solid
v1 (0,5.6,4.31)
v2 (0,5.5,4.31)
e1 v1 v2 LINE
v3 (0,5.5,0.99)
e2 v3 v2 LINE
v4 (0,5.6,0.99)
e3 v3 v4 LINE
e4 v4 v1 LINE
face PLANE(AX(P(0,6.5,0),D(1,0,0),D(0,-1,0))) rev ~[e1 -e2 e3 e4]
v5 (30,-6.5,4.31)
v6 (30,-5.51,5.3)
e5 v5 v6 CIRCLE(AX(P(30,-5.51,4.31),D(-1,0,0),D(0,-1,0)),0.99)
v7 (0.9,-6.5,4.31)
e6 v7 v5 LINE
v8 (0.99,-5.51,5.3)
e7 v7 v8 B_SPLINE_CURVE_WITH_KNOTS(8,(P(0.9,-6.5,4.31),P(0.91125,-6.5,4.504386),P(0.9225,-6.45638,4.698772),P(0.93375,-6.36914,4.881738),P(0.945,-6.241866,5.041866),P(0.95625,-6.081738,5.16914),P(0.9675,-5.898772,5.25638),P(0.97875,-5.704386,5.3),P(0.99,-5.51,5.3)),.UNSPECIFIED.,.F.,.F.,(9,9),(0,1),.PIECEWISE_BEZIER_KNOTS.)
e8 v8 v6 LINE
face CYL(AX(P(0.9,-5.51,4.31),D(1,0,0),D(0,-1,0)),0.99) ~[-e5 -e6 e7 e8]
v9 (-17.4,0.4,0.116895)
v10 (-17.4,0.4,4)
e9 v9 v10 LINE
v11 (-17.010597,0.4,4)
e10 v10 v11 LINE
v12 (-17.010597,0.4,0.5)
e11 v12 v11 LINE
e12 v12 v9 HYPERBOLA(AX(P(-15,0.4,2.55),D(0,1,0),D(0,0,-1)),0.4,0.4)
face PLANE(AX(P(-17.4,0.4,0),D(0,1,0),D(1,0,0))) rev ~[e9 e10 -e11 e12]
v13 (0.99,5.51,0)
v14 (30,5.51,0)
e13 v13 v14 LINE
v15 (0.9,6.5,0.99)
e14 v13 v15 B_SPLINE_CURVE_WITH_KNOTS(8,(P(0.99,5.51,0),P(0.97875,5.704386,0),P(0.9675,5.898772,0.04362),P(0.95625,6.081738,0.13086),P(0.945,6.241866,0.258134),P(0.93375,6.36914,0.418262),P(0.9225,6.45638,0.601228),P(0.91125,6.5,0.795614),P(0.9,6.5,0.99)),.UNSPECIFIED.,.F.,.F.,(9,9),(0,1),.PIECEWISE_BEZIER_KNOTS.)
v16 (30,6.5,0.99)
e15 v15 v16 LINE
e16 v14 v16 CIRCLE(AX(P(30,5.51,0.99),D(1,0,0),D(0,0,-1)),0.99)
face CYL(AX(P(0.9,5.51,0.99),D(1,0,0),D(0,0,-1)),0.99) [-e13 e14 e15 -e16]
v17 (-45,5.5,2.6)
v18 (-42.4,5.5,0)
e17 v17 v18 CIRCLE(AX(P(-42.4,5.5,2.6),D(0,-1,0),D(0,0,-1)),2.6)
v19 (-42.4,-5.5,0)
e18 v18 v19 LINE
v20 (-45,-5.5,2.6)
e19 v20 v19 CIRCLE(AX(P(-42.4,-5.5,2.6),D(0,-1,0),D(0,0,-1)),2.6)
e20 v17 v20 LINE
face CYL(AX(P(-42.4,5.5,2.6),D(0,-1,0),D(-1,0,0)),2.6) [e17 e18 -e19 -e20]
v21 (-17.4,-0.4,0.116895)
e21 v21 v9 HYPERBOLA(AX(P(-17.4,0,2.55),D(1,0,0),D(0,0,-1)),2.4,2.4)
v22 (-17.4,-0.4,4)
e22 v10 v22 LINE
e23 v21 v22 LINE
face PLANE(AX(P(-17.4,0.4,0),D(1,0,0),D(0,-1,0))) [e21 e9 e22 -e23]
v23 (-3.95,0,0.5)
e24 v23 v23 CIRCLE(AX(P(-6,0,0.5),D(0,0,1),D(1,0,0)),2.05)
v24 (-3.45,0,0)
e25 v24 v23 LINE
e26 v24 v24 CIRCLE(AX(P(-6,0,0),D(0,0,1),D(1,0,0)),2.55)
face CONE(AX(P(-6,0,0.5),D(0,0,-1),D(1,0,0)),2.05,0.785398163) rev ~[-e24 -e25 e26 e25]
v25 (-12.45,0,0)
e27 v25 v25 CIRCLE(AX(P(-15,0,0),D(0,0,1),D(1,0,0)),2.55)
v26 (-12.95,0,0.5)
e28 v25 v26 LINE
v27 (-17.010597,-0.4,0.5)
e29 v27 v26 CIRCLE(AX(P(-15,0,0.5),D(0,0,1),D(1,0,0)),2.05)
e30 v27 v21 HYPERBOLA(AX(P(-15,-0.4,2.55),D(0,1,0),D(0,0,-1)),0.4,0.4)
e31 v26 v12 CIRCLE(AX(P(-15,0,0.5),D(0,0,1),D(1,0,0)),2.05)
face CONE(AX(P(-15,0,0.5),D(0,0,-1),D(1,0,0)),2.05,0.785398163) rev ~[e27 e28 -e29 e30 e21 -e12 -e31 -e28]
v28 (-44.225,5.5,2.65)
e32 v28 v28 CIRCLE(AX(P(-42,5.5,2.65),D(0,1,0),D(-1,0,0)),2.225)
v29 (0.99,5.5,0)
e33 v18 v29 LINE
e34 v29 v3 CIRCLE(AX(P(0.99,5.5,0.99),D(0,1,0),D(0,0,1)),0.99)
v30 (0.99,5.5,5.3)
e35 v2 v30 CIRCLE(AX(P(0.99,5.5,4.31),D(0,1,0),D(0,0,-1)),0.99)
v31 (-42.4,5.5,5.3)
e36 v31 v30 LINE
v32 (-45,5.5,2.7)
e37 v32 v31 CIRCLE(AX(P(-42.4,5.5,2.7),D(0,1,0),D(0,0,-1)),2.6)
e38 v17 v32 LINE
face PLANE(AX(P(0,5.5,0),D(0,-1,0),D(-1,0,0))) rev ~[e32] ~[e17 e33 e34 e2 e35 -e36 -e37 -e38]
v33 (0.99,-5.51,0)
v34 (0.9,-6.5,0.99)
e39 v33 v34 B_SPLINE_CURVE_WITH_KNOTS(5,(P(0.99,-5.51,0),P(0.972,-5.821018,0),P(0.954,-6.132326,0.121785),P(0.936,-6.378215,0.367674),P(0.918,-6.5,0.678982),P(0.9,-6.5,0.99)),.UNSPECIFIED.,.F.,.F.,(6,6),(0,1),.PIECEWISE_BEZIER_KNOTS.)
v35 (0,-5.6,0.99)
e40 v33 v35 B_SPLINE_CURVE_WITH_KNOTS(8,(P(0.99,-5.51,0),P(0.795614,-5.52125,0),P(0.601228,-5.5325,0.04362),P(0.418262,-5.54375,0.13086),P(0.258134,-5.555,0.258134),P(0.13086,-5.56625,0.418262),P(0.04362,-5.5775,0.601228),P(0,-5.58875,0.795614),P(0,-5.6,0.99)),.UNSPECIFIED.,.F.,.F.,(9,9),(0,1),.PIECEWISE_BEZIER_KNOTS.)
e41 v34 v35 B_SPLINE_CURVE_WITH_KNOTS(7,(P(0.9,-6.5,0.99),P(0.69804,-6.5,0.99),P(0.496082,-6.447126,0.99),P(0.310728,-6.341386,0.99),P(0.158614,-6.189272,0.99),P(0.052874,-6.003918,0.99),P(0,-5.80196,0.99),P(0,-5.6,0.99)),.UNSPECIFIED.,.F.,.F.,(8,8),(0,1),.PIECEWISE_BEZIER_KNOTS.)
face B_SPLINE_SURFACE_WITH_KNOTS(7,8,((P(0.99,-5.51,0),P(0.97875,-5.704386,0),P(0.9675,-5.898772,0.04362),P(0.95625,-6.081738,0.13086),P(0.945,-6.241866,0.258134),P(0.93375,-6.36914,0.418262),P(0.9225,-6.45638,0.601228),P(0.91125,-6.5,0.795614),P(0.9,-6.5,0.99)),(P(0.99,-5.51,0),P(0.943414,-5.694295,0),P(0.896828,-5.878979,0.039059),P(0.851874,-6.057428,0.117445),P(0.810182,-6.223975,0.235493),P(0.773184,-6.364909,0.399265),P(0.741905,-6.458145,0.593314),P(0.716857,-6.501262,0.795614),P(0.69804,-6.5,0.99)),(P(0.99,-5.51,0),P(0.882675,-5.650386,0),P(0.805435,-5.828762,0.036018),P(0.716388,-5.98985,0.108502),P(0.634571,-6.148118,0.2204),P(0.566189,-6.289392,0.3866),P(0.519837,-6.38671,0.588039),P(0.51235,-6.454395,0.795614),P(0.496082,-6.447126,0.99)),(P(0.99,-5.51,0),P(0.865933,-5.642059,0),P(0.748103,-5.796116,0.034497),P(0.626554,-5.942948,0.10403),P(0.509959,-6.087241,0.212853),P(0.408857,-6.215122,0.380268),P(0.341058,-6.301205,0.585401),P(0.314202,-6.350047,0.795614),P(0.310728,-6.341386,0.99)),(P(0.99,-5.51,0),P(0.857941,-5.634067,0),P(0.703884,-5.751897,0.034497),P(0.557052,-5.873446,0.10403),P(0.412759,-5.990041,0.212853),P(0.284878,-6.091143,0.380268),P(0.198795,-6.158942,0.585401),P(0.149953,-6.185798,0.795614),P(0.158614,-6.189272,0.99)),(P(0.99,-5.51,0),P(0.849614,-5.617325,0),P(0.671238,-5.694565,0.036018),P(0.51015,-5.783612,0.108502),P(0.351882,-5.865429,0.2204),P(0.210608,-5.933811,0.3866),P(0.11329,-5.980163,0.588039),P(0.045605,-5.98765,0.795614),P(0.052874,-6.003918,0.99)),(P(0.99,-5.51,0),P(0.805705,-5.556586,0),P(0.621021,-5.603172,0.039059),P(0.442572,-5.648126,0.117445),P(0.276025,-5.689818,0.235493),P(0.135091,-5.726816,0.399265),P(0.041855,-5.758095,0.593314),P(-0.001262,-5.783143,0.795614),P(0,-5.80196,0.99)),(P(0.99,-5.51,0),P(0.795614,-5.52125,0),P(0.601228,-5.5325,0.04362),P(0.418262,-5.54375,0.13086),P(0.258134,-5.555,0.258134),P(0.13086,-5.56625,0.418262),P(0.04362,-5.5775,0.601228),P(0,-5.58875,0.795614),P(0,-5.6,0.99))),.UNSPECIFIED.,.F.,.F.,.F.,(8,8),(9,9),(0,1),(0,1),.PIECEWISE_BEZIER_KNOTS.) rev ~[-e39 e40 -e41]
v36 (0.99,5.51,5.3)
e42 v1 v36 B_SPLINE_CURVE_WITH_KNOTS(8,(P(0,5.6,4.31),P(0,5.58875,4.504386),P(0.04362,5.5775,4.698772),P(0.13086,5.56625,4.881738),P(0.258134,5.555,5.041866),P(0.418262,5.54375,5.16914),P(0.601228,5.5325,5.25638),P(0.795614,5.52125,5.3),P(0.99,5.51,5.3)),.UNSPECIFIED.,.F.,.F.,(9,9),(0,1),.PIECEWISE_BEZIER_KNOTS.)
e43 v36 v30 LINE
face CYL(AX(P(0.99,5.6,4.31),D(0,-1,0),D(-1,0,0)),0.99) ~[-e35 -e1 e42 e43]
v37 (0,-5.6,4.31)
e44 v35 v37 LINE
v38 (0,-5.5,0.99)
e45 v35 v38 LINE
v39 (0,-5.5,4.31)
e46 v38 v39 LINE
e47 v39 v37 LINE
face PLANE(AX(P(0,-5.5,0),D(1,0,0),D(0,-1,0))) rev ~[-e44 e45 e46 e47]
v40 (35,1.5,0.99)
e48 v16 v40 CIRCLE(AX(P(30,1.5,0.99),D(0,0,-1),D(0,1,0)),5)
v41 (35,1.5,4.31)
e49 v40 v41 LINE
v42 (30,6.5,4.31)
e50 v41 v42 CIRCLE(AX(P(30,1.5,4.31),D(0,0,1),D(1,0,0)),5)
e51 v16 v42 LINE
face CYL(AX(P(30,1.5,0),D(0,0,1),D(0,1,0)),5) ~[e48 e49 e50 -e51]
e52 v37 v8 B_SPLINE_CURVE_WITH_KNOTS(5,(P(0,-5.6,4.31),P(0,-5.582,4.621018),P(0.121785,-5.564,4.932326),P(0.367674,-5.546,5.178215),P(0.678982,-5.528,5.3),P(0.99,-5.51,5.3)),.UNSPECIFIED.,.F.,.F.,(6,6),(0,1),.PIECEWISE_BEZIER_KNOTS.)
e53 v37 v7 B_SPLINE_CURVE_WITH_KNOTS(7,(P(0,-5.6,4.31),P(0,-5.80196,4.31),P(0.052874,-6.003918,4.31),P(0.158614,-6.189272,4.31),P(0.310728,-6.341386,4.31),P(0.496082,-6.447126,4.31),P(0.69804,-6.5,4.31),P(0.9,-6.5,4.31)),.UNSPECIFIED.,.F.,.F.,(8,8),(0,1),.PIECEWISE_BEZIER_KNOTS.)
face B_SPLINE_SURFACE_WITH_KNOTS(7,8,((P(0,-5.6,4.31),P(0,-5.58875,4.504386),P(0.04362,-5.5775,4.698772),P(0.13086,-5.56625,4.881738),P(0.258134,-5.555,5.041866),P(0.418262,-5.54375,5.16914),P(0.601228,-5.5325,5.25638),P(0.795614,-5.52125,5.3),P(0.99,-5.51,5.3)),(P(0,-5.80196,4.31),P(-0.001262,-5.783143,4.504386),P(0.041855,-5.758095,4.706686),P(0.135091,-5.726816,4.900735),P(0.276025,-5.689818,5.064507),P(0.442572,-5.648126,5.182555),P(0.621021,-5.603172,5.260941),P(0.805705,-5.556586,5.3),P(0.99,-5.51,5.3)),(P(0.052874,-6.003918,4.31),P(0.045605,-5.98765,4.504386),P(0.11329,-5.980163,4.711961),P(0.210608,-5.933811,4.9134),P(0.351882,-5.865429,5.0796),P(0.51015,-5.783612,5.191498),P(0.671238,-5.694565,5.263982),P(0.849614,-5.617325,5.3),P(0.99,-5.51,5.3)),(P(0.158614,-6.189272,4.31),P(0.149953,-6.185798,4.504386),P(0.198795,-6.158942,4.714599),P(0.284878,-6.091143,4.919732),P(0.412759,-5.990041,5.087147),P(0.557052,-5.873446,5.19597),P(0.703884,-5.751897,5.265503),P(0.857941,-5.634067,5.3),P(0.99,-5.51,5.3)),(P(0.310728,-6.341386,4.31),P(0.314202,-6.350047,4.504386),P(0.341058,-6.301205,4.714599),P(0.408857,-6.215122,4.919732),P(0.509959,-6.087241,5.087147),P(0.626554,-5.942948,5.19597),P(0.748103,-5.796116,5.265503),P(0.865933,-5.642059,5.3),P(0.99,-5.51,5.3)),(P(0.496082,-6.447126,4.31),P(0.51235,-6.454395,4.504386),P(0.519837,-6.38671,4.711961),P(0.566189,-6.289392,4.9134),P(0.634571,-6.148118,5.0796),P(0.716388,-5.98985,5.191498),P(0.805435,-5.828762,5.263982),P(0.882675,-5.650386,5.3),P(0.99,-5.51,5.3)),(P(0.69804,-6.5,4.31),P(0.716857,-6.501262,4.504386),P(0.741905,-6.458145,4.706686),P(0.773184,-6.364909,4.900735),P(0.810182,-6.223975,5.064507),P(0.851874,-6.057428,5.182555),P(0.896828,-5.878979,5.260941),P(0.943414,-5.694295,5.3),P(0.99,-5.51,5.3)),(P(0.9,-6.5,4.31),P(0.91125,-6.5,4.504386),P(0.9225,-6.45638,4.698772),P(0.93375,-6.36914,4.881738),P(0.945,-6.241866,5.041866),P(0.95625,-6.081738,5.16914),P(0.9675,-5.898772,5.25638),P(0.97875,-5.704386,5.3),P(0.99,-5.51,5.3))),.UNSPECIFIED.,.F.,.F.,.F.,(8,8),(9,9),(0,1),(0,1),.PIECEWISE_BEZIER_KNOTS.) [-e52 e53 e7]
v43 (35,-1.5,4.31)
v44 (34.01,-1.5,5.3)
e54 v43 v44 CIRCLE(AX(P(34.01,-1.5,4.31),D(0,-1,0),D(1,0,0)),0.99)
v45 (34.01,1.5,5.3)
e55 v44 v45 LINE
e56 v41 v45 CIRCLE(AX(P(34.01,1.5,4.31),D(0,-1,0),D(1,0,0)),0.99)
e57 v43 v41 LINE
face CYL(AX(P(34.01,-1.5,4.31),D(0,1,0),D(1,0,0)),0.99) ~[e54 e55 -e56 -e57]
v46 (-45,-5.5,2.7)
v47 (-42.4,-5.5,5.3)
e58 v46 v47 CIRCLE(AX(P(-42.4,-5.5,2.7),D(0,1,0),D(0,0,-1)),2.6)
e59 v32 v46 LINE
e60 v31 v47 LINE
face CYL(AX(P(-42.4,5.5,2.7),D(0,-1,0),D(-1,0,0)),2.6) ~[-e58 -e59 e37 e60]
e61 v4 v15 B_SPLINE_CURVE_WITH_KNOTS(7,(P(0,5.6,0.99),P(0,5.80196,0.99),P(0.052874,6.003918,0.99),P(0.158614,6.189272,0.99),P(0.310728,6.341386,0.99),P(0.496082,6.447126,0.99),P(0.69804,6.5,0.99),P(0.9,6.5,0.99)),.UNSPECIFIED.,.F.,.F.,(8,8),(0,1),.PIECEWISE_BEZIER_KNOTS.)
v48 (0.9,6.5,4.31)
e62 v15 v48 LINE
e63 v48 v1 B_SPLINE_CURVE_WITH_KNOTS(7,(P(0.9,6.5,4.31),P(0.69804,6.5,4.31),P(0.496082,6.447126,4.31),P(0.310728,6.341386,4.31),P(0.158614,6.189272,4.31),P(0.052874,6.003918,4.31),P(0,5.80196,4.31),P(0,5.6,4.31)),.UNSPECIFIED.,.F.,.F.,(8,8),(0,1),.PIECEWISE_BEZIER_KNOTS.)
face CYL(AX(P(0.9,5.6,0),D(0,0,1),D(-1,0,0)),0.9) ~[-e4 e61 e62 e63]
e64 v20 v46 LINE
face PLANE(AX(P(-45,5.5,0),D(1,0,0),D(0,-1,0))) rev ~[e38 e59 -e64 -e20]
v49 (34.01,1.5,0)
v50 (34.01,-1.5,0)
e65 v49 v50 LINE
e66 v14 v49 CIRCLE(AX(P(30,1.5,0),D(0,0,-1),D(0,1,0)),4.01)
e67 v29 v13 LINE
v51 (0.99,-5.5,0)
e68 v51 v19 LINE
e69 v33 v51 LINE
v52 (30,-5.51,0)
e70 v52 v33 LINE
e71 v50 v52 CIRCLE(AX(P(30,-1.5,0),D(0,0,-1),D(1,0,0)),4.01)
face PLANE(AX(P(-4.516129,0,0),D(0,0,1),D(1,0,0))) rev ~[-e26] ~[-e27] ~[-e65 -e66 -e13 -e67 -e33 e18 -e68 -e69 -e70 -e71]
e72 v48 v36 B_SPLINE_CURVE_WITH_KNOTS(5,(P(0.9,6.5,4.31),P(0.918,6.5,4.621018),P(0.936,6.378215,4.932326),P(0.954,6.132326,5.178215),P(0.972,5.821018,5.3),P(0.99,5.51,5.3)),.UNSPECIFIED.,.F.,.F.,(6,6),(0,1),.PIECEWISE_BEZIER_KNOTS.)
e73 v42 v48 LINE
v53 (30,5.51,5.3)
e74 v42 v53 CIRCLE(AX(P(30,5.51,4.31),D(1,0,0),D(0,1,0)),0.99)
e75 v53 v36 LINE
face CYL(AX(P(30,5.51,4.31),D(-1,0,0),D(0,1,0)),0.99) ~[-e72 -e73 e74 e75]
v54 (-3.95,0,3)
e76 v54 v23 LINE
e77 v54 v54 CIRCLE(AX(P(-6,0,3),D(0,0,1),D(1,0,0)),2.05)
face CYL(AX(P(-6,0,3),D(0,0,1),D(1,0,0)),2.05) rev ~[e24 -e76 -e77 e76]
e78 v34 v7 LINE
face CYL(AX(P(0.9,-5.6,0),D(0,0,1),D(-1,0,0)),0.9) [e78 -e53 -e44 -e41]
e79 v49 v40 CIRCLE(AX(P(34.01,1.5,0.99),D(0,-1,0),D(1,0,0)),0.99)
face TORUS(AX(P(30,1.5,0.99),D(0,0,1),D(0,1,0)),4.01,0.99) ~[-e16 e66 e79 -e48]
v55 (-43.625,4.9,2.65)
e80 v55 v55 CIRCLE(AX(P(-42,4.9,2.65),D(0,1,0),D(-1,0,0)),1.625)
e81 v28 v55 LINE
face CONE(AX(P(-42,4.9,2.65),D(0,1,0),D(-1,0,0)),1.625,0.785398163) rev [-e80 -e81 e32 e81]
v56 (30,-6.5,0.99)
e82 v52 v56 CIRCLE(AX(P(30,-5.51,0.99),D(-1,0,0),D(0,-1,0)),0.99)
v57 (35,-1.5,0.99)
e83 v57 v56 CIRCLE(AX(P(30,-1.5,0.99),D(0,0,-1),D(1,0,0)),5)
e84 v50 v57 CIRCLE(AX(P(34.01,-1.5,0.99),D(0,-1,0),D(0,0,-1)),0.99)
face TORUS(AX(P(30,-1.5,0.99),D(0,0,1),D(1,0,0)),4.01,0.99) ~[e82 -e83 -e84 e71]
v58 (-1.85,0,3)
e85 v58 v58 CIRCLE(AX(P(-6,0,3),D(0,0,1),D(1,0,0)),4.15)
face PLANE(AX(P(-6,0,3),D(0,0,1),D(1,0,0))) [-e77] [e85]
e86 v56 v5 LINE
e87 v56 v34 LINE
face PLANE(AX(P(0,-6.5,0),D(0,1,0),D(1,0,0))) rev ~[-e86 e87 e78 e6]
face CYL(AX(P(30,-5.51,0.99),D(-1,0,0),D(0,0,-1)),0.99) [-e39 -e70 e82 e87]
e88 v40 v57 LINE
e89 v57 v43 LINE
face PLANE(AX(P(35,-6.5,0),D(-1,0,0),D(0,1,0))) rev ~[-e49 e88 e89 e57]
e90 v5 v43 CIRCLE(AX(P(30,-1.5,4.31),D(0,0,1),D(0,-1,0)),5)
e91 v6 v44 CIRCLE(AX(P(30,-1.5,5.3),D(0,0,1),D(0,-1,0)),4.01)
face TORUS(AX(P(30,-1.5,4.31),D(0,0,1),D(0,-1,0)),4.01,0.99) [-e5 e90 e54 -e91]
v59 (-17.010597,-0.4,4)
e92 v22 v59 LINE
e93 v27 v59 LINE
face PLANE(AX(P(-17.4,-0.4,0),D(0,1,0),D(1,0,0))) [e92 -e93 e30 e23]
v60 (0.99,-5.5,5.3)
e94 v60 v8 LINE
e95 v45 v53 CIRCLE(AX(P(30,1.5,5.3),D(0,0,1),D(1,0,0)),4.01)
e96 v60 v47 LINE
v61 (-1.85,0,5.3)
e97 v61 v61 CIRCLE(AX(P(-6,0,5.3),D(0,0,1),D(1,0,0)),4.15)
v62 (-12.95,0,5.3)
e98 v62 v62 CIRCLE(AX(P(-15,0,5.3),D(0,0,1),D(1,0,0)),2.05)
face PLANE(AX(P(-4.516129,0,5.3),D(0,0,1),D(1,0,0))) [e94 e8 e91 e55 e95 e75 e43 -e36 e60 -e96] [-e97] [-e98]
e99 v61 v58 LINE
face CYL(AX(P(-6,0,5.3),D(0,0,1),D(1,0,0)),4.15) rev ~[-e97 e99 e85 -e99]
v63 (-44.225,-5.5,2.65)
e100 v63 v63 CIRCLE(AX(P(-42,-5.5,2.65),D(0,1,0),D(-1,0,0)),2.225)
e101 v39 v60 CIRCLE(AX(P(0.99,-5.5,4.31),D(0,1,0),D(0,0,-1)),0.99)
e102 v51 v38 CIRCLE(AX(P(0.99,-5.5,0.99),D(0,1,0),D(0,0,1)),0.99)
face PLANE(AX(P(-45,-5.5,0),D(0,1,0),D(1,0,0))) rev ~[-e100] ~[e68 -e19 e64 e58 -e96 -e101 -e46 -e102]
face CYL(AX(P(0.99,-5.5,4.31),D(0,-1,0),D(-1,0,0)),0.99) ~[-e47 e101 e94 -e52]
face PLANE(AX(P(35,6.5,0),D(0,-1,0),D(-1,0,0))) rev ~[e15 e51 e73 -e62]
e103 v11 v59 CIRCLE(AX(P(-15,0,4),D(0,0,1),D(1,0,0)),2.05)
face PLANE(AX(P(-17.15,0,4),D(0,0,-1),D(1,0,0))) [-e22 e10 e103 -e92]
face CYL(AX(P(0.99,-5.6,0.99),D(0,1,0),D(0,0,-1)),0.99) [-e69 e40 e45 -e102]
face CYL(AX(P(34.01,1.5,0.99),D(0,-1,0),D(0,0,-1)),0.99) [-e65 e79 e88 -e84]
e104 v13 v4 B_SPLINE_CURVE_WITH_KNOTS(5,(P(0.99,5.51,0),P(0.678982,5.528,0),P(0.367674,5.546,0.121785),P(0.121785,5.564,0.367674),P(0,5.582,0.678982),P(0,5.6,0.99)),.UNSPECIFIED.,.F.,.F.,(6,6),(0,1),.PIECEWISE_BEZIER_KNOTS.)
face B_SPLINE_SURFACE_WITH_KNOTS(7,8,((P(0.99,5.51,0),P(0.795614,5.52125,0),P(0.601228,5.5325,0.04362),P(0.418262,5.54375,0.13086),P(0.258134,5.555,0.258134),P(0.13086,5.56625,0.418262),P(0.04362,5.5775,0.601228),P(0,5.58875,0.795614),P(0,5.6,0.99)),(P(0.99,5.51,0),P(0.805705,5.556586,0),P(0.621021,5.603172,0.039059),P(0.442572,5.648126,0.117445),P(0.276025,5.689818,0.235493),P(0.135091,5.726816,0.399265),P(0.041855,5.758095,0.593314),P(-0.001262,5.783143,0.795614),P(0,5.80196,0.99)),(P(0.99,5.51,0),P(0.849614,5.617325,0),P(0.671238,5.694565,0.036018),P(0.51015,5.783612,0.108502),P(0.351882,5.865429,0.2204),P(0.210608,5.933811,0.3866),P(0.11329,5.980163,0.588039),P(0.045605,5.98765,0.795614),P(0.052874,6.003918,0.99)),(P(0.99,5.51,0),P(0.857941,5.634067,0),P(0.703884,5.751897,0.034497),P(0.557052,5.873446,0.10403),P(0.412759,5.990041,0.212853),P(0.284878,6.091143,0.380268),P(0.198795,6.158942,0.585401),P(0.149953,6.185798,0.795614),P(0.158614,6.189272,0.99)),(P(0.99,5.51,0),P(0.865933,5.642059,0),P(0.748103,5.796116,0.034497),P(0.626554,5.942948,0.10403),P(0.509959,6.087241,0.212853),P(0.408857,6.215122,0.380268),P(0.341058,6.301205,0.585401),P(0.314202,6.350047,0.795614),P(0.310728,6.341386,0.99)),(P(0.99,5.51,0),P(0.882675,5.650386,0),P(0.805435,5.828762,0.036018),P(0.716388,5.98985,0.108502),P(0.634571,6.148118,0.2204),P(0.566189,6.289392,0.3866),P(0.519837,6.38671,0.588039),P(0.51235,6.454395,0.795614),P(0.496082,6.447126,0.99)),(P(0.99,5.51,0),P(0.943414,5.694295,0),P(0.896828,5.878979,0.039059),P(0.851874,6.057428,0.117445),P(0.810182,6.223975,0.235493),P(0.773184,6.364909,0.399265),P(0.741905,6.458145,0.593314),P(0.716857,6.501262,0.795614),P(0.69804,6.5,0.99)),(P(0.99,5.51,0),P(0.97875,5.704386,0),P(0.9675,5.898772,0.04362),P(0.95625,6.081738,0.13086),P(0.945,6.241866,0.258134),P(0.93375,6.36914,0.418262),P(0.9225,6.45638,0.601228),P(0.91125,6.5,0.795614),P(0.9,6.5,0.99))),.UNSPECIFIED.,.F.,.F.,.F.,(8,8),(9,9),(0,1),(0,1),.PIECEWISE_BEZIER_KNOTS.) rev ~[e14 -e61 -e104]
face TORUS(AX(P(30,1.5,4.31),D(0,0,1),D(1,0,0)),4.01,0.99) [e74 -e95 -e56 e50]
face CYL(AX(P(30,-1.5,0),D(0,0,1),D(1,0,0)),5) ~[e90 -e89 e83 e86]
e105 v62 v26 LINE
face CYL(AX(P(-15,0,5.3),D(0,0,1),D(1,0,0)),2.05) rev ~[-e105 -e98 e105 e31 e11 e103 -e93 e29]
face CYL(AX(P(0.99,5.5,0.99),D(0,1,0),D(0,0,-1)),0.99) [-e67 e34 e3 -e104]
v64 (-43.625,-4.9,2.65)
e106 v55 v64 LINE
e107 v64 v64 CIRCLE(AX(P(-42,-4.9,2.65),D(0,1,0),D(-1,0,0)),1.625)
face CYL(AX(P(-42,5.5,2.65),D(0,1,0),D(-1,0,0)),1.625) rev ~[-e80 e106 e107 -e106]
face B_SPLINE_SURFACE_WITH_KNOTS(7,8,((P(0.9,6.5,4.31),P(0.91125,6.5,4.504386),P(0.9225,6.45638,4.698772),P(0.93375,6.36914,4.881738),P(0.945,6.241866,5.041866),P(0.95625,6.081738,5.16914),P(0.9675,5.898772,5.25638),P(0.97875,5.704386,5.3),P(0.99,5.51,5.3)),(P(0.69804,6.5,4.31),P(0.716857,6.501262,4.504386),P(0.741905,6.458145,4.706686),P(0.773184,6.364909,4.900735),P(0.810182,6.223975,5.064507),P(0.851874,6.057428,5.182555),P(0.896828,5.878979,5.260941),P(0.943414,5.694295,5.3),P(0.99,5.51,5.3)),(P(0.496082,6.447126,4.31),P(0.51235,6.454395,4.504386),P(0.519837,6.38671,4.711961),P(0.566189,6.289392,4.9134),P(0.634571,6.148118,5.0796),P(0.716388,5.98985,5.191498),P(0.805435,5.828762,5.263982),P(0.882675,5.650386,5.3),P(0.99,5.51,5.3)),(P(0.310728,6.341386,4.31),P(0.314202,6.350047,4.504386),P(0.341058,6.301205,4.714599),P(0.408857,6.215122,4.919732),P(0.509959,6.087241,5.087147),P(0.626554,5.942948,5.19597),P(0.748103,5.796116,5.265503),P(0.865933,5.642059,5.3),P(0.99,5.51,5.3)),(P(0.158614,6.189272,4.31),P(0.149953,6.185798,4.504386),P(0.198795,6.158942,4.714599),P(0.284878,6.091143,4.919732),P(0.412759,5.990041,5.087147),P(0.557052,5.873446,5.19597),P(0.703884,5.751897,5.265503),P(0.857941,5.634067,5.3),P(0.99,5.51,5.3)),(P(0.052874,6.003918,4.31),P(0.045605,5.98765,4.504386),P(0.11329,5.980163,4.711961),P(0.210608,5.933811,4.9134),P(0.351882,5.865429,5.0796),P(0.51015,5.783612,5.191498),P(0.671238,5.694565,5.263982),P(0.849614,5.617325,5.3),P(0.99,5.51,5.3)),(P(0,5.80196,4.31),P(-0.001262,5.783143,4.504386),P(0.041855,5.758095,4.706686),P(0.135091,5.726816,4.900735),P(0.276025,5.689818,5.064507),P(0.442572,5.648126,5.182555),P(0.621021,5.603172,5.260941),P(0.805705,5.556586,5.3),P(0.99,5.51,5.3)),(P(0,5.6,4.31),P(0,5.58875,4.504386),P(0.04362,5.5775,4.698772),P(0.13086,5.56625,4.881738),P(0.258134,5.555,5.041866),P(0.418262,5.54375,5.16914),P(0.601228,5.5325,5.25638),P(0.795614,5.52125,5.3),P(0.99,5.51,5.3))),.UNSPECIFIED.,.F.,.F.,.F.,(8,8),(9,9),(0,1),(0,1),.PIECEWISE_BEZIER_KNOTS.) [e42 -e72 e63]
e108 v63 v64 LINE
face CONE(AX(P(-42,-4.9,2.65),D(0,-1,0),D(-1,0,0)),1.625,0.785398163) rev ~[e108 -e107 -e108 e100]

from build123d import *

# Parameters (mm, degrees)
PAD_DEPTH       = 5.3
SKETCH001_R     = 4.15
POCKET_DEPTH    = 2.3
SKETCH002_R     = 2.05
POCKET001_DEPTH = 3.001
FILLET_R        = 2.6
SKETCH003_R     = 1.625
POCKET002_DEPTH = 12.001
FILLET001_R     = 0.9
FILLET002_R     = 5
SKETCH004_R     = 2.05
POCKET003_DEPTH = 5.301
FILLET003_R     = 0.99
CHAMFER_SIZE    = 0.5
SKETCH005_W     = 0.5
SKETCH005_H     = 0.8
POCKET004_DEPTH = 4
CHAMFER001_SIZE = 0.6


with BuildPart() as part:
    # Sketch → Pad (new body)
    with BuildSketch(Plane.XY):
        Polygon((0, 5.5), (-45, 5.5), (-45, -5.5), (0, -5.5), (0, -6.5), (35, -6.5), (35, 6.5), (0, 6.5), align=None)
    extrude(amount=PAD_DEPTH)

    # Sketch001 (on Face10 of Pad) → Pocket (cut)
    with BuildSketch(Plane.XY.offset(5.3)):
        with Locations((-6, 0)):
            Circle(SKETCH001_R)
    extrude(amount=-POCKET_DEPTH, mode=Mode.SUBTRACT)

    # Sketch002 (on Face12 of Pocket) → Pocket001 (cut, through all)
    with BuildSketch(Plane.XY.offset(3)):
        with Locations((-6, 0)):
            Circle(SKETCH002_R)
    extrude(amount=-POCKET001_DEPTH, mode=Mode.SUBTRACT)

    # Fillet
    fillet_edges = [part.edges().sort_by_distance(p)[0] for p in [
        (-45, 0, 5.3),
        (-45, 0, 0),
    ]]
    fillet(fillet_edges, radius=FILLET_R)

    # Sketch003 (on Face1 of Fillet) → Pocket002 (cut, through all)
    with BuildSketch(Plane(origin=(0, 5.5, 0), x_dir=(-1, 0, 0), z_dir=(0, 1, 0))):
        with Locations((42, 2.65)):
            Circle(SKETCH003_R)
    extrude(amount=-POCKET002_DEPTH, mode=Mode.SUBTRACT)

    # Fillet001
    fillet001_edges = [part.edges().sort_by_distance(p)[0] for p in [
        (0, 6.5, 2.65),
        (0, -6.5, 2.65),
    ]]
    fillet(fillet001_edges, radius=FILLET001_R)

    # Fillet002
    fillet002_edges = [part.edges().sort_by_distance(p)[0] for p in [
        (35, 6.5, 2.65),
        (35, -6.5, 2.65),
    ]]
    fillet(fillet002_edges, radius=FILLET002_R)

    # Sketch004 (on Face15 of Fillet002) → Pocket003 (cut, through all)
    with BuildSketch(Plane.XY.offset(5.3)):
        with Locations((-15, 0)):
            Circle(SKETCH004_R)
    extrude(amount=-POCKET003_DEPTH, mode=Mode.SUBTRACT)

    # Fillet003
    fillet003_edges = [part.edges().sort_by_distance(p)[0] for p in [
        (0.263604, -6.236396, 5.3),
        (15.45, -6.5, 5.3),
        (33.535534, -5.035534, 5.3),
        (35, 0, 5.3),
        (33.535534, 5.035534, 5.3),
        (15.45, 6.5, 5.3),
        (0.263604, 6.236396, 5.3),
        (0.263604, 6.236396, 0),
        (15.45, 6.5, 0),
        (33.535534, 5.035534, 0),
        (35, 0, 0),
        (33.535534, -5.035534, 0),
        (15.45, -6.5, 0),
    ]]
    fillet(fillet003_edges, radius=FILLET003_R)

    # Chamfer
    chamfer_edges = [part.edges().sort_by_distance(p)[0] for p in [
        (-17.05, 0, 0),
        (-8.05, 0, 0),
    ]]
    chamfer(chamfer_edges, length=CHAMFER_SIZE)

    # Sketch005 (on Face1 of Chamfer) → Pocket004 (cut)
    with BuildSketch(Plane(origin=(0, 0, 0), x_dir=(1, 0, 0), z_dir=(0, 0, -1))):
        with Locations((-17.15, 0)):
            Rectangle(SKETCH005_W, SKETCH005_H)
    extrude(amount=-POCKET004_DEPTH, mode=Mode.SUBTRACT)

    # Chamfer001
    chamfer001_edges = [part.edges().sort_by_distance(p)[0] for p in [
        (-40.375, 5.5, 2.65),
        (-40.375, -5.5, 2.65),
    ]]
    chamfer(chamfer001_edges, length=CHAMFER001_SIZE)


solid = part.part
